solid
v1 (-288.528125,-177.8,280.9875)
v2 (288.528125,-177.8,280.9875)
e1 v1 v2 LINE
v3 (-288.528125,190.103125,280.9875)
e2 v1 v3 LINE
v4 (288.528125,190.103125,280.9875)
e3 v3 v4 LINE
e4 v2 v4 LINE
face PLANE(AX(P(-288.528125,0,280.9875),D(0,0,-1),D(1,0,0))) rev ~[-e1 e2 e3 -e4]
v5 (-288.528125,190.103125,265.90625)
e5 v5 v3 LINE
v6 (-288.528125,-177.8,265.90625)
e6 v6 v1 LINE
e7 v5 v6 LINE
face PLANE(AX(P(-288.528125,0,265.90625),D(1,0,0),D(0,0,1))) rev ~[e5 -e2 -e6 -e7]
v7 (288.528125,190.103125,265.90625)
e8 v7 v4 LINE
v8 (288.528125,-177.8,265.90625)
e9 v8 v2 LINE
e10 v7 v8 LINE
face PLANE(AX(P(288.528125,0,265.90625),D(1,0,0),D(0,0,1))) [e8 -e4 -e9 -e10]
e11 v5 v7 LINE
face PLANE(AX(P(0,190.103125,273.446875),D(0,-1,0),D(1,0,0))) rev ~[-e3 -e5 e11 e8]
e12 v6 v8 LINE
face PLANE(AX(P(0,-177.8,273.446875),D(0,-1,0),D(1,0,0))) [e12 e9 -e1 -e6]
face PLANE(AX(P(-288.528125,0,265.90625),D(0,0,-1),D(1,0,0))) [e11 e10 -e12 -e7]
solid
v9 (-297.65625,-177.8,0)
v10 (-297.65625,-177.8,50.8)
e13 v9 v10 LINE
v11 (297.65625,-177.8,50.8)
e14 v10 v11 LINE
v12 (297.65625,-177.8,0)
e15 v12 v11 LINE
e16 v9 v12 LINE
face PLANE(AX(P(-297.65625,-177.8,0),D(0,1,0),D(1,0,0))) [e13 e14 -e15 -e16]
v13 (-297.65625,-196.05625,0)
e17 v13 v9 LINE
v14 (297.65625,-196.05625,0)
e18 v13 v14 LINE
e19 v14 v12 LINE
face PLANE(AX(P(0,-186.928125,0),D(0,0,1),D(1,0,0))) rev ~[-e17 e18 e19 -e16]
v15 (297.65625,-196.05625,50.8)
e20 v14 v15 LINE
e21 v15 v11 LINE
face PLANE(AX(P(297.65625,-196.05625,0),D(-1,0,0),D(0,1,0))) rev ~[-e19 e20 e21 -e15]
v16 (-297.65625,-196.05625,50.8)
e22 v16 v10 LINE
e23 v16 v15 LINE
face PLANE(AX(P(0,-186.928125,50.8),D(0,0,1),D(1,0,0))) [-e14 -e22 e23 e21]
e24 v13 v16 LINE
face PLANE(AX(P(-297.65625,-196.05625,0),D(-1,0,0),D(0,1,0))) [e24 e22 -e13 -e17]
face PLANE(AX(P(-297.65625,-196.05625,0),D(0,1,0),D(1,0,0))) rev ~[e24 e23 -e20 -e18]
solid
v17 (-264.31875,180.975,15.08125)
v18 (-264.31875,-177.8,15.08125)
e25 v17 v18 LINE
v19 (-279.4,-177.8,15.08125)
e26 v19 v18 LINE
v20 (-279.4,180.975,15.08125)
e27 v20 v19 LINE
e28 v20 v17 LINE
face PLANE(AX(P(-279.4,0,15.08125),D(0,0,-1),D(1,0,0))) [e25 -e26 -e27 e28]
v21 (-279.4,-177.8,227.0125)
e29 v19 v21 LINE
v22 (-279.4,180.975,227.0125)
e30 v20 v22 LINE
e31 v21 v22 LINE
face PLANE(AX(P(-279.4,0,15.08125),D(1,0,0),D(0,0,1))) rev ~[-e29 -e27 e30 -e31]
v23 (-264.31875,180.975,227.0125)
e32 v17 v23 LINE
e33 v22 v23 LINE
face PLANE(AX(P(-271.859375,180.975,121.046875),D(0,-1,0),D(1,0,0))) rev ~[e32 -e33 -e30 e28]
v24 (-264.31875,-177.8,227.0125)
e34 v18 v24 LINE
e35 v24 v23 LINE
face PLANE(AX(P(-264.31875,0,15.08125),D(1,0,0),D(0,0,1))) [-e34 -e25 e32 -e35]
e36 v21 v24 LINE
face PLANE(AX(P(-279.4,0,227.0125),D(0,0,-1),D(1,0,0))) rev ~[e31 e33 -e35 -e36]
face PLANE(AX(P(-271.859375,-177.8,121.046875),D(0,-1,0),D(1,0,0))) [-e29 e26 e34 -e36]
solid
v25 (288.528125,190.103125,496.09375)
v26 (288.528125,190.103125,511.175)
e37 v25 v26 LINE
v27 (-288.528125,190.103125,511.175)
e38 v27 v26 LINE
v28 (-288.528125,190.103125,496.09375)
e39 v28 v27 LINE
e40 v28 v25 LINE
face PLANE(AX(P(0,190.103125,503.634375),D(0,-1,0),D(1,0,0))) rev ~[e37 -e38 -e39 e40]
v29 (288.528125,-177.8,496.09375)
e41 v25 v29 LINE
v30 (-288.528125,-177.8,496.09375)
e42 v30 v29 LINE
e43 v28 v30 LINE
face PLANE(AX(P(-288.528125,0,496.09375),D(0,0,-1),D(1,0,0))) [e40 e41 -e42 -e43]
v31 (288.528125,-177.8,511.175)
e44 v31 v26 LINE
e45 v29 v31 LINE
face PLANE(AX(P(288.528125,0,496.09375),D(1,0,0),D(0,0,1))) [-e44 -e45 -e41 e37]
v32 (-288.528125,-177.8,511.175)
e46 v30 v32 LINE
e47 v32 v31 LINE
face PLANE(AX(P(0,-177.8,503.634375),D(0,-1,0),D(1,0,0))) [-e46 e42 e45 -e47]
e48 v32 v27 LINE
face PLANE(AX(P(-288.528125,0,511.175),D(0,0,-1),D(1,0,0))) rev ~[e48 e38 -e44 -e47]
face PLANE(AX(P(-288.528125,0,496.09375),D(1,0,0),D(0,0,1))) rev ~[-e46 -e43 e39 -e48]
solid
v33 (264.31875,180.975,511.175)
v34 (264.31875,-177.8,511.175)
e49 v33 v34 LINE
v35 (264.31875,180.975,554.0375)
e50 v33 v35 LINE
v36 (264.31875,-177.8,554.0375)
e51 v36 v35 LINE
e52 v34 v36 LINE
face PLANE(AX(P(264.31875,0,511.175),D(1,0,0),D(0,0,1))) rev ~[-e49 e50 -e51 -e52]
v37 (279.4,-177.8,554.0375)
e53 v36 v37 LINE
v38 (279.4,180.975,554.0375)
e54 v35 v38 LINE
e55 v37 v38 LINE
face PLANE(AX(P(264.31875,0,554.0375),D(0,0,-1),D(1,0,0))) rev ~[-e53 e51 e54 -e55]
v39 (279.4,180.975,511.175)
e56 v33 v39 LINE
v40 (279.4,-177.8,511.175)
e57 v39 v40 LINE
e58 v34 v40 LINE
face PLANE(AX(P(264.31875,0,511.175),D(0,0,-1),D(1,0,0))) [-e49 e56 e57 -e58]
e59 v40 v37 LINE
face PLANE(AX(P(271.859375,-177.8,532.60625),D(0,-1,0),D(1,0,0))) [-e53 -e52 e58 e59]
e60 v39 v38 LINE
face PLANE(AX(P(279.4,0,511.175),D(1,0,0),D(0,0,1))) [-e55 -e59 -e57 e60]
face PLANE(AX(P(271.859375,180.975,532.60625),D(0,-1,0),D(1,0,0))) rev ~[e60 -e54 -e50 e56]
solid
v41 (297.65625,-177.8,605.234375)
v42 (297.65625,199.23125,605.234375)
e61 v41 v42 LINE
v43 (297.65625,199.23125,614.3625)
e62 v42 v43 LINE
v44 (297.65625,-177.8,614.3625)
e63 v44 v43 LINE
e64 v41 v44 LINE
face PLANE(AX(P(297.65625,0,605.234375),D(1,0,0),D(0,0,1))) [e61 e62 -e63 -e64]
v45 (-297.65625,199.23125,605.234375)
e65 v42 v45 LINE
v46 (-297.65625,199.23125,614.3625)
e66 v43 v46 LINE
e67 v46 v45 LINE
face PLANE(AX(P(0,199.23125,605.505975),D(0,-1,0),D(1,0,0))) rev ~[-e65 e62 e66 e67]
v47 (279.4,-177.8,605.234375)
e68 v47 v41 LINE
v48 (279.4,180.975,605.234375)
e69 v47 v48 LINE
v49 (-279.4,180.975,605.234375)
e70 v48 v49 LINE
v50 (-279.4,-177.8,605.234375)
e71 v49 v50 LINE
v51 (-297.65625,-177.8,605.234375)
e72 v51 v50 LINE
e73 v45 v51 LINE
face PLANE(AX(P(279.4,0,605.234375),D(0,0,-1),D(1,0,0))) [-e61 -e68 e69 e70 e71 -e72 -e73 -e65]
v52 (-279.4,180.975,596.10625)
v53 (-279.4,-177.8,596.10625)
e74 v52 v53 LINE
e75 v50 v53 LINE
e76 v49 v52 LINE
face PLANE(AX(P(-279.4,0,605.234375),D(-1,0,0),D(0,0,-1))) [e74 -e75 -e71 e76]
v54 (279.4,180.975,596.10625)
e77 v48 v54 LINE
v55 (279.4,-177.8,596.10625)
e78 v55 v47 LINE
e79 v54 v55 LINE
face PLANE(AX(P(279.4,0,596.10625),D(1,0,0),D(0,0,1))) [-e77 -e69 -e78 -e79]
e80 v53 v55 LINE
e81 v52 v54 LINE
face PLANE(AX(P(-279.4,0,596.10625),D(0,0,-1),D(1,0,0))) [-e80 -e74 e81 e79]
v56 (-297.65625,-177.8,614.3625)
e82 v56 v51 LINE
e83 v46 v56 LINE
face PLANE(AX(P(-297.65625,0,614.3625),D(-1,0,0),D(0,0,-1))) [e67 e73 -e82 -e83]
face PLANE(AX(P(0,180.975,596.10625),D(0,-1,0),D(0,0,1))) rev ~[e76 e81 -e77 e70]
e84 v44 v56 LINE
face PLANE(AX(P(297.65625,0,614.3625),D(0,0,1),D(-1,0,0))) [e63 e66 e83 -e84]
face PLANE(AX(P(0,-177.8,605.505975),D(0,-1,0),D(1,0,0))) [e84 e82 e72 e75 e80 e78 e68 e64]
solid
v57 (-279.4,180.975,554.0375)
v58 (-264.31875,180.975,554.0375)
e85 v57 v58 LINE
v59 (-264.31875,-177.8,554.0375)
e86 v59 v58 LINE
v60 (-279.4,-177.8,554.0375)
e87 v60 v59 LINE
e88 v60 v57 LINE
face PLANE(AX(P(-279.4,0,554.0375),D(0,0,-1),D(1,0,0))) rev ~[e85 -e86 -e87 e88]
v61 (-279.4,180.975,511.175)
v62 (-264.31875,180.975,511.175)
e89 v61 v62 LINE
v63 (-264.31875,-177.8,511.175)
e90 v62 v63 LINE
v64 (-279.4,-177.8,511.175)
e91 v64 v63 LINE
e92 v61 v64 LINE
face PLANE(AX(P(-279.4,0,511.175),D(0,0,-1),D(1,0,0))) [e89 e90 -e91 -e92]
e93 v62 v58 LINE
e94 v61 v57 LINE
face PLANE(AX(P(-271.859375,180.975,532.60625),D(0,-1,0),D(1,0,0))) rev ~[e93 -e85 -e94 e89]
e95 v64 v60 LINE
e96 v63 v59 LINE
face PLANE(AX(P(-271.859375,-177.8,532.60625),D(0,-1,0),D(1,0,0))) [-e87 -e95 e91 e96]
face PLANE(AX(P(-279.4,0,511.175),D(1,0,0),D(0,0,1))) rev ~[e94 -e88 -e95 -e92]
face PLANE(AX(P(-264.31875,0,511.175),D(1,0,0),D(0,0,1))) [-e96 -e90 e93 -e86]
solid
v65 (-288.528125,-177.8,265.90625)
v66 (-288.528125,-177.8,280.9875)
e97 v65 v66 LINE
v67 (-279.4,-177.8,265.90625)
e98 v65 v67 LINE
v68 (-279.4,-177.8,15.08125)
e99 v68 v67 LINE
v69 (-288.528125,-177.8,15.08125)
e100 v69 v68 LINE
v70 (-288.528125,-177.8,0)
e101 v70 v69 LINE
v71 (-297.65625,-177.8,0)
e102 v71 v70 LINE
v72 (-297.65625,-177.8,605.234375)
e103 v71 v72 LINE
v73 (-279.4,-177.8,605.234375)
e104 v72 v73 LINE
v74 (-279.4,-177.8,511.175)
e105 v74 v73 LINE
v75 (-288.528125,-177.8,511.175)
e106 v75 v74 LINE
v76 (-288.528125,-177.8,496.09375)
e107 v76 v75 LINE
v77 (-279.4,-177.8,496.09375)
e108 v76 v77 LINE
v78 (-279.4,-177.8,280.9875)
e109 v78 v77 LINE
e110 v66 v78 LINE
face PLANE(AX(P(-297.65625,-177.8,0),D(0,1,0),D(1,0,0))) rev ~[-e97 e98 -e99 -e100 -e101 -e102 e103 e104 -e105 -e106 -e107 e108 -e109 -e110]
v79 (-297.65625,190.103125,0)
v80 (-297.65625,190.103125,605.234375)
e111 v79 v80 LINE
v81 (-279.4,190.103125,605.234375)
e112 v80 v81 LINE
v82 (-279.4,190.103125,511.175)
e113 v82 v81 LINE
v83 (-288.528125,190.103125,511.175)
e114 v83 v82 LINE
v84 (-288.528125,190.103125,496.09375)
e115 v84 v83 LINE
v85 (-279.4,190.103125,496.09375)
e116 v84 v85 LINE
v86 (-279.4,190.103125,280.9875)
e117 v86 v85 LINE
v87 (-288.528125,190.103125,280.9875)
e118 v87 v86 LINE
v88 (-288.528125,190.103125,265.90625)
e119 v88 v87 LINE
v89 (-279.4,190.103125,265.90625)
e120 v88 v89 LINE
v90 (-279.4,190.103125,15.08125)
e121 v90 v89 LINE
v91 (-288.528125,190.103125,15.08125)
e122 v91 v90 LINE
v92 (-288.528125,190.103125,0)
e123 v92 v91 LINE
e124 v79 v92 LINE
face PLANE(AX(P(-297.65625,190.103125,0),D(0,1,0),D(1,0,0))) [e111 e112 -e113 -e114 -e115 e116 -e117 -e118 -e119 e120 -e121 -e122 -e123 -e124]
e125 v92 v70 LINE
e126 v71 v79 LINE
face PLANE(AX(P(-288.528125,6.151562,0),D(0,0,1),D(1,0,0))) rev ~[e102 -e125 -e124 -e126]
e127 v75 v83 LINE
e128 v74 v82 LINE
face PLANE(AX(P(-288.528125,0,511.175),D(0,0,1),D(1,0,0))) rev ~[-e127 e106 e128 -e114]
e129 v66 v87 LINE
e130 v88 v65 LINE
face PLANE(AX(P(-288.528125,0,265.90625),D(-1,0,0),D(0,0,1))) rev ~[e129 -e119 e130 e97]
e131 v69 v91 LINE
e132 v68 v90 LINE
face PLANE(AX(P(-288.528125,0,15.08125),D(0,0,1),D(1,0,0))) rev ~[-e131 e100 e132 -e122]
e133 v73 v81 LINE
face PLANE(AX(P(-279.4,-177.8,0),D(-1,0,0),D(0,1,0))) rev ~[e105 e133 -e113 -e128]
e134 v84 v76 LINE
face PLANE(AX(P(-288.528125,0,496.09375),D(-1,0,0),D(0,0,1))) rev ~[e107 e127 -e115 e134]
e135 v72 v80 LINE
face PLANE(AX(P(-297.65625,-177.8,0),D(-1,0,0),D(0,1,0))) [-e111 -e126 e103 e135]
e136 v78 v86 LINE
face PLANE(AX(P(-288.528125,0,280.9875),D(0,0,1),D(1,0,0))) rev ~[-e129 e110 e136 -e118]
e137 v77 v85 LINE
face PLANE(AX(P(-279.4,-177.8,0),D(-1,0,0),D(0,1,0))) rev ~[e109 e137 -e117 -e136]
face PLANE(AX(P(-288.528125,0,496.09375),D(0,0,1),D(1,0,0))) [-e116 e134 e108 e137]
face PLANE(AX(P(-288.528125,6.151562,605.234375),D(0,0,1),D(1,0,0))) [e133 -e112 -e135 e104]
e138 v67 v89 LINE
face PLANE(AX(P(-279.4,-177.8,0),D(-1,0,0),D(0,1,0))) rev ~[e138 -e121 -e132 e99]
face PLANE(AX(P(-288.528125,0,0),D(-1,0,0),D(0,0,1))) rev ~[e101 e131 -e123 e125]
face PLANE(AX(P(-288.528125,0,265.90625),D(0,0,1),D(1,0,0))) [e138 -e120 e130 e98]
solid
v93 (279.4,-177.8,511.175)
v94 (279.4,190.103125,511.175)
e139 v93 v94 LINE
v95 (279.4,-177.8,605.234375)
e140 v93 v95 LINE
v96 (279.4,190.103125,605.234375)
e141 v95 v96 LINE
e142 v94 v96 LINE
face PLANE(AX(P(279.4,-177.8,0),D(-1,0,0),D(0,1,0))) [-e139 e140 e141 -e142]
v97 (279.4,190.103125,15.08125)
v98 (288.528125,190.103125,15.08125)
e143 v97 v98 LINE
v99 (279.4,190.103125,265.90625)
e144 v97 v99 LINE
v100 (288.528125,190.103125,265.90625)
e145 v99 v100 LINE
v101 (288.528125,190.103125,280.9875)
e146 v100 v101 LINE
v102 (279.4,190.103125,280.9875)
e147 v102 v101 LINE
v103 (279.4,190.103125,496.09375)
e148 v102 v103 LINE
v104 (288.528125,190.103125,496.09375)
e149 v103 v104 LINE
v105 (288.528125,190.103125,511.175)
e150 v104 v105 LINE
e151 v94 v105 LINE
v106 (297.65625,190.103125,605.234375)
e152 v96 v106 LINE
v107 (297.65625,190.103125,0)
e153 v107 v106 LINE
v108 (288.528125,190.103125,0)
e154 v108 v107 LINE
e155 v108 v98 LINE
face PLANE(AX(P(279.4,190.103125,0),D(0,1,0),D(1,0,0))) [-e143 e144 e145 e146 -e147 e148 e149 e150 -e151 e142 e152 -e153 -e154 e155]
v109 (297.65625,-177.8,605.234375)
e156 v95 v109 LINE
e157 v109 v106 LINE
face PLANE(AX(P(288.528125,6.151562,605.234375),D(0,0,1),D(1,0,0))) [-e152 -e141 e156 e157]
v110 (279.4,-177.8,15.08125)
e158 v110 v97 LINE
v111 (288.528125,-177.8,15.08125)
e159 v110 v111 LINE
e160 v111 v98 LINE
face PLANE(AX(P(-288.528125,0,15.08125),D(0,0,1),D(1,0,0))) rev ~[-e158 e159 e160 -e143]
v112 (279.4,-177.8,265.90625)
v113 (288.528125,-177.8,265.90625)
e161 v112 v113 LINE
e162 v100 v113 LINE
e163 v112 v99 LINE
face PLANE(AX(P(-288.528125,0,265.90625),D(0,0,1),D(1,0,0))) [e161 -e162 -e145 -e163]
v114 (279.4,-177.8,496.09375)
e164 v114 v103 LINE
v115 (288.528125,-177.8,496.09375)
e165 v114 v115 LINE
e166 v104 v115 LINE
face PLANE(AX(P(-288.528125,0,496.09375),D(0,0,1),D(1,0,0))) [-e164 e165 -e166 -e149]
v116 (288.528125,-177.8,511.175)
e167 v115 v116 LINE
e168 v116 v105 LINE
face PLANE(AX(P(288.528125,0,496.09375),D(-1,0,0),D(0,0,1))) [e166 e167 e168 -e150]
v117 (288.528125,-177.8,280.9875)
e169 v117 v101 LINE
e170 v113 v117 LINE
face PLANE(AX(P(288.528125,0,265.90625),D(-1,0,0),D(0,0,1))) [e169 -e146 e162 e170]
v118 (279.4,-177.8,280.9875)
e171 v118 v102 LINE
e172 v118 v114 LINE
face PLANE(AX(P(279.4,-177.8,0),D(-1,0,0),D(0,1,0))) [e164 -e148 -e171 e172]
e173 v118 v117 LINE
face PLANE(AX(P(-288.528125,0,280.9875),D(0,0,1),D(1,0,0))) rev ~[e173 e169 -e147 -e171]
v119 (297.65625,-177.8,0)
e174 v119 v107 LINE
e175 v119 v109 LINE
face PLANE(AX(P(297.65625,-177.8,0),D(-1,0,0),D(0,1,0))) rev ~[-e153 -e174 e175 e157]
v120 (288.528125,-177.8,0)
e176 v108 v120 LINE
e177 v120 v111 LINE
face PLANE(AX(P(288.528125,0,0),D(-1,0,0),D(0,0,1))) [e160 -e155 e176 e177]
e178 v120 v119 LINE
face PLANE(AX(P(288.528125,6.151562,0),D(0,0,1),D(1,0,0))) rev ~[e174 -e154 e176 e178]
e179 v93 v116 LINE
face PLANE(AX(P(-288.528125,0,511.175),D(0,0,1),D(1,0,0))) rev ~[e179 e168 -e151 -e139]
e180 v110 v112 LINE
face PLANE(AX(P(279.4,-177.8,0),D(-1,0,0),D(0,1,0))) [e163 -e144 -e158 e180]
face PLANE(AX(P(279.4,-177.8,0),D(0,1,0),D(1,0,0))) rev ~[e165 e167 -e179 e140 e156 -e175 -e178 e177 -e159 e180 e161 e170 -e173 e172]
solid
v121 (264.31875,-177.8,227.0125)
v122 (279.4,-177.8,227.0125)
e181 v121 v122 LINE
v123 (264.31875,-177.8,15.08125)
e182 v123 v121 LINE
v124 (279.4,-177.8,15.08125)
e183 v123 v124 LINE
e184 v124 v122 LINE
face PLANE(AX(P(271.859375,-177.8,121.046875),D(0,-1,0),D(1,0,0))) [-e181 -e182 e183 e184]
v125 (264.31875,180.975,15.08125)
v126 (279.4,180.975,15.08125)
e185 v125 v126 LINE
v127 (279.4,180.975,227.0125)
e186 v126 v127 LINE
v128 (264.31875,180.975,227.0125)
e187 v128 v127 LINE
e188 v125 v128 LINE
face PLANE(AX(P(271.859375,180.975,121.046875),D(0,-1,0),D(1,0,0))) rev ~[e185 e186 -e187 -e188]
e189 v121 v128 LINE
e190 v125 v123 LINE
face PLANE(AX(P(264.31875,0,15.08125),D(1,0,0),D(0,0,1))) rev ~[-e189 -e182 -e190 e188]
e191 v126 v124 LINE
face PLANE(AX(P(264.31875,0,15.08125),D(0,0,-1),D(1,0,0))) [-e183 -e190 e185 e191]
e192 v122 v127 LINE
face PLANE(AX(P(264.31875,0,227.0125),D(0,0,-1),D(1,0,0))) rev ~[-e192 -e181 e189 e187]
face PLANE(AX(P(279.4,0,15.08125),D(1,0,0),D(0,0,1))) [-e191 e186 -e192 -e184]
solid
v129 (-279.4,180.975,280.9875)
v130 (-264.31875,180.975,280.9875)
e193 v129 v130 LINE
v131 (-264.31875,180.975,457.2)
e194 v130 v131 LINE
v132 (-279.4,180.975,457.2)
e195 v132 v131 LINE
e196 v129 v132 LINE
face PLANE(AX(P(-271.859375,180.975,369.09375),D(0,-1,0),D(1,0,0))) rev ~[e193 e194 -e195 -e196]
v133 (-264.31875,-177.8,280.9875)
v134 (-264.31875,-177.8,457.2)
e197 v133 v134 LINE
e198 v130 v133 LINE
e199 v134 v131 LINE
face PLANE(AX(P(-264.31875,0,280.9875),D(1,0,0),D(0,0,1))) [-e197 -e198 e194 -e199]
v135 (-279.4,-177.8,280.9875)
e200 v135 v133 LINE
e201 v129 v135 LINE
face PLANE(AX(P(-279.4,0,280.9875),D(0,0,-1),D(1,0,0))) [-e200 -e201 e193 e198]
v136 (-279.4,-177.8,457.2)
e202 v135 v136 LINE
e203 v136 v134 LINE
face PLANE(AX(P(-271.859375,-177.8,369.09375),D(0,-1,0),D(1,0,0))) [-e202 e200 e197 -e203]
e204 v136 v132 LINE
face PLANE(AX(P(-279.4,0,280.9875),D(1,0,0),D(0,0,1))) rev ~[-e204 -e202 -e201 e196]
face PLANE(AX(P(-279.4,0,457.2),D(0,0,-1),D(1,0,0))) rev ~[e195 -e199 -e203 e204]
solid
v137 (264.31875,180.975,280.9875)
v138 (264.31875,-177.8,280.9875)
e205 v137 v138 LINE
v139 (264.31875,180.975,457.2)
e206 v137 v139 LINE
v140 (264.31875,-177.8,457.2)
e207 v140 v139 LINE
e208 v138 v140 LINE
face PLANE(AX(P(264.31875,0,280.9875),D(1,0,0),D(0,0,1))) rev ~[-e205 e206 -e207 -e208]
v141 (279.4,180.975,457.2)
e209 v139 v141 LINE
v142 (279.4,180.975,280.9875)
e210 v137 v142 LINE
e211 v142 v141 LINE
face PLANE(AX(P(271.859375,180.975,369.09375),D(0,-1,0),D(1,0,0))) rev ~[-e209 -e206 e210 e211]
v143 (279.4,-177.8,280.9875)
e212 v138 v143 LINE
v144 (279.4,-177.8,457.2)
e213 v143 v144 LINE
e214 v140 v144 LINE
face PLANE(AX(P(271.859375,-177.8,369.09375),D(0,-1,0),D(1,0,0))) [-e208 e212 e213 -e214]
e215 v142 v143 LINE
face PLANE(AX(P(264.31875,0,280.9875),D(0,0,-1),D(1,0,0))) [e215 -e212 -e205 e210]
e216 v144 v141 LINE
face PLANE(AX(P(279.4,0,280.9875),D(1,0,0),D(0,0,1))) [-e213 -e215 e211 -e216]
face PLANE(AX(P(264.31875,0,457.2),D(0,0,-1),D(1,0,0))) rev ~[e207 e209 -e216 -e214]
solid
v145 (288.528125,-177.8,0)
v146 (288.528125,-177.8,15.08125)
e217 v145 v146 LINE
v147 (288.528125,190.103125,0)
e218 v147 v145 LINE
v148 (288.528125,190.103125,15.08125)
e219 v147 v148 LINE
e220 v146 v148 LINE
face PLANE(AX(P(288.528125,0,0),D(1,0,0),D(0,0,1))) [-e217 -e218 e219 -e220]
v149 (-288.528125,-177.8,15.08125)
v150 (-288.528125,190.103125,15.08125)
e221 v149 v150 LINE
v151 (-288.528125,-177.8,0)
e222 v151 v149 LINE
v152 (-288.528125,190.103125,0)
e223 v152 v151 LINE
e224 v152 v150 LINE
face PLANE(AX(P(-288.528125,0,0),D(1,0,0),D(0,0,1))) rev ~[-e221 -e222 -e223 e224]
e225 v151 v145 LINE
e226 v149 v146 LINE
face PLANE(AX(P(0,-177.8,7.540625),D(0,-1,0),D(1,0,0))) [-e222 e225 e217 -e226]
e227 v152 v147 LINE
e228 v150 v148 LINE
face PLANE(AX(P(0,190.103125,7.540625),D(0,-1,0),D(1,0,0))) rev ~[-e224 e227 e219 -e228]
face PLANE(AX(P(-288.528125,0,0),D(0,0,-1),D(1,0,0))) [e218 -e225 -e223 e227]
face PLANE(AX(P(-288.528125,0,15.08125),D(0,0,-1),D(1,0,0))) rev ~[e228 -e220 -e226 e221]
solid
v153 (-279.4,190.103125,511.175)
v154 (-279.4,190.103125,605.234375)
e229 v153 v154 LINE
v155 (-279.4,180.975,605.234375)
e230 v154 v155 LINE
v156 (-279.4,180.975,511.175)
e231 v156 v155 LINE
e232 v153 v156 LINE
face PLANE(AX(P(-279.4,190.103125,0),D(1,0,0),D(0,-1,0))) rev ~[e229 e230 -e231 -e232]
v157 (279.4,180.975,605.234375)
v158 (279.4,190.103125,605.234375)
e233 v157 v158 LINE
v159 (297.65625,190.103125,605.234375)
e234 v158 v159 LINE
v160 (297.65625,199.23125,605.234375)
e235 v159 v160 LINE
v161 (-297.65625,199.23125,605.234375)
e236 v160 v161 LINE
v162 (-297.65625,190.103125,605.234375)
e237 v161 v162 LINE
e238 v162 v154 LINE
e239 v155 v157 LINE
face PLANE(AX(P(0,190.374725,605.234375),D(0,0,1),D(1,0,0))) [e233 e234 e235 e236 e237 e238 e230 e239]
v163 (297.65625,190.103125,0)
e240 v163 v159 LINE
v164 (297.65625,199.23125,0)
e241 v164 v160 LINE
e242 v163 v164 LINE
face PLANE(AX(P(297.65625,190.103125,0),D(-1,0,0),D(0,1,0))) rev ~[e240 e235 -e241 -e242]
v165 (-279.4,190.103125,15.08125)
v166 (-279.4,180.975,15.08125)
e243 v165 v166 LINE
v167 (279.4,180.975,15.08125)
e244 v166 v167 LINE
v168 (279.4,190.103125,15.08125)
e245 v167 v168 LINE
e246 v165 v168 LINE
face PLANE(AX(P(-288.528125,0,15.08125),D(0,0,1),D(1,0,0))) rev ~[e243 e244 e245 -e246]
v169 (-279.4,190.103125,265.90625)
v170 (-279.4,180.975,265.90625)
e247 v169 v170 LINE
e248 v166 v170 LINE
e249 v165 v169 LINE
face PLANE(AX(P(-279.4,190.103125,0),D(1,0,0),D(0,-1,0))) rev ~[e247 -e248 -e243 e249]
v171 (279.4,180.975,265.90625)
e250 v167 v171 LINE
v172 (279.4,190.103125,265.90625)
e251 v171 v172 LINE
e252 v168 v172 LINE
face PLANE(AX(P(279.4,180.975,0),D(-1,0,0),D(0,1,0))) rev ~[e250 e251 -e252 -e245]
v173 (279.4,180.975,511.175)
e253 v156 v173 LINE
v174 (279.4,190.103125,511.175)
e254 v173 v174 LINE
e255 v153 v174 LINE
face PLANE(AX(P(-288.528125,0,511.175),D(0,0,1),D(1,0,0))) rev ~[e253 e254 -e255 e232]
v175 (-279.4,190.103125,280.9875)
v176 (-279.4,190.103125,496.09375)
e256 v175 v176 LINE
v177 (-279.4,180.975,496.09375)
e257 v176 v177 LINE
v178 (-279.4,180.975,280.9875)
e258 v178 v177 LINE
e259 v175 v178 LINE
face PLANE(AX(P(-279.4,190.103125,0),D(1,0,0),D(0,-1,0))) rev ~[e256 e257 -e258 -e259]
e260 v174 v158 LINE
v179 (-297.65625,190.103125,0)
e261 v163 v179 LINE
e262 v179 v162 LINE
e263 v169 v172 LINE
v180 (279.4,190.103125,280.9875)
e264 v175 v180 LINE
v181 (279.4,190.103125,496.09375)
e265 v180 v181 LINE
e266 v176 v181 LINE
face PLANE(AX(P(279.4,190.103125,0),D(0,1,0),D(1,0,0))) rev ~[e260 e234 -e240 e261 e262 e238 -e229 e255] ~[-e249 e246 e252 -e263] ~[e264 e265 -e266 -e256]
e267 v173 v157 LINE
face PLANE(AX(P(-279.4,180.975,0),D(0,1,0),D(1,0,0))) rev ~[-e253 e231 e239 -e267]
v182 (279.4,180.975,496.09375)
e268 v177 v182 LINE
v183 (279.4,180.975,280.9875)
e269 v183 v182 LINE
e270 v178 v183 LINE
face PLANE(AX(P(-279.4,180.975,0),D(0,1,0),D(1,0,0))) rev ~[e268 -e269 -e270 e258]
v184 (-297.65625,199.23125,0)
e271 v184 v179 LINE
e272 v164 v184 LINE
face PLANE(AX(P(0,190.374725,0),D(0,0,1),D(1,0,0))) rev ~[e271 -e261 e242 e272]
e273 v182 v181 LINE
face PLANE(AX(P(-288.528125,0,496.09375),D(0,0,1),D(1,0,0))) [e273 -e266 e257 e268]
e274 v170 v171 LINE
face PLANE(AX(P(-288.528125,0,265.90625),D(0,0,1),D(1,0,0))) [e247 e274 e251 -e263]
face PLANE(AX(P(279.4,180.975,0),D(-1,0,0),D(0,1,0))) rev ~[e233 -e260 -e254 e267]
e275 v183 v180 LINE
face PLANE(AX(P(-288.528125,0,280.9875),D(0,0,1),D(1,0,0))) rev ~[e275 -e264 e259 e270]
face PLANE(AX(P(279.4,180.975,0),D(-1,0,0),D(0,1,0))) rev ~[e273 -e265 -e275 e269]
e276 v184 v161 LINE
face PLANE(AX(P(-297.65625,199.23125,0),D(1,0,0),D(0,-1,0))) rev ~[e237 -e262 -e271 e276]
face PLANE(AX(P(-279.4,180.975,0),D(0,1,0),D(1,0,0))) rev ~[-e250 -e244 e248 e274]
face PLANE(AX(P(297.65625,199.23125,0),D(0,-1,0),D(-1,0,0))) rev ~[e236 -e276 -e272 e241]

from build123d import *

# Parameters (mm, degrees)
F1_W           = 18.25625
F1_H           = 367.903125
F6_DEPTH       = 605.234375
F0_W           = 595.3125
F0_H           = 18.25625
F7_DEPTH       = 50.8
F2_W           = 577.05625
F2_H           = 15.08125
F8_DEPTH       = 190.103125
F8_DEPTH_BACK  = 177.8
F9_DEPTH       = 177.8
F9_DEPTH_BACK  = 190.103125
F10_DEPTH      = 177.8
F10_DEPTH_BACK = 199.23125
F5_W           = 18.25625
F5_H           = 9.128125
F11_DEPTH      = 297.65625
F11_DEPTH_BACK = 297.65625
F4_W           = 15.08125
F4_H           = 211.93125
F12_DEPTH      = 177.8
F12_DEPTH_BACK = 180.975
F4_H_2         = 176.2125
F4_H_3         = 42.8625


with BuildPart() as f6:
    # F1 (on Top) → F6 (new body)
    with BuildSketch(Plane.XY):
        with Locations((-288.528125, 6.1515625)):
            Rectangle(F1_W, F1_H)
    extrude(amount=F6_DEPTH)


with BuildPart() as f6b:
    # F1 (on Top) → F6, piece 2 (new body)
    with BuildSketch(Plane.XY):
        with Locations((288.528125, 6.1515625)):
            Rectangle(F1_W, F1_H)
    extrude(amount=F6_DEPTH)


with BuildPart() as f6c:
    # F0 (on Top) → F6, piece 3 (new body)
    with BuildSketch(Plane.XY):
        Polygon((297.65625, 199.23125), (-297.65625, 199.23125), (-297.65625, 190.103125), (-279.4, 190.103125), (-279.4, 180.975), (279.4, 180.975), (279.4, 190.103125), (297.65625, 190.103125), align=None)
    extrude(amount=F6_DEPTH)


with BuildPart() as f7:
    # F0 (on Top) → F7 (new body)
    with BuildSketch(Plane.XY):
        with Locations((0, -186.928125)):
            Rectangle(F0_W, F0_H)
    extrude(amount=F7_DEPTH)


with BuildPart() as f8_tool:
    # F2 (on Front) → F8 (new body, two sides)
    with BuildSketch(Plane.XZ) as f8_sk:
        with Locations((0, 7.540625)):
            Rectangle(F2_W, F2_H)
        with Locations((0, 273.446875)):
            Rectangle(F2_W, F2_H)
        with Locations((0, 503.634375)):
            Rectangle(F2_W, F2_H)
    extrude(amount=-F8_DEPTH)
    extrude(f8_sk.sketch, amount=F8_DEPTH_BACK)


with BuildPart() as f6_1:
    add(f6.part)

    # F8: cut by f8_tool
    add(f8_tool.part, mode=Mode.SUBTRACT)


with BuildPart() as f6b_1:
    add(f6b.part)

    # F8: cut by f8_tool
    add(f8_tool.part, mode=Mode.SUBTRACT)


with BuildPart() as f6c_1:
    add(f6c.part)

    # F8: cut by f8_tool
    add(f8_tool.part, mode=Mode.SUBTRACT)


with BuildPart() as f9:
    # F2 (on Front) → F9 (new body, two sides)
    with BuildSketch(Plane.XZ) as f9_sk:
        with Locations((0, 7.540625)):
            Rectangle(F2_W, F2_H)
    extrude(amount=F9_DEPTH)
    extrude(f9_sk.sketch, amount=-F9_DEPTH_BACK)


with BuildPart() as f9b:
    # F2 (on Front) → F9, piece 2 (new body, two sides)
    with BuildSketch(Plane.XZ) as f9_2_sk:
        with Locations((0, 273.446875)):
            Rectangle(F2_W, F2_H)
    extrude(amount=F9_DEPTH)
    extrude(f9_2_sk.sketch, amount=-F9_DEPTH_BACK)


with BuildPart() as f9c:
    # F2 (on Front) → F9, piece 3 (new body, two sides)
    with BuildSketch(Plane.XZ) as f9_3_sk:
        with Locations((0, 503.634375)):
            Rectangle(F2_W, F2_H)
    extrude(amount=F9_DEPTH)
    extrude(f9_3_sk.sketch, amount=-F9_DEPTH_BACK)


with BuildPart() as f10:
    # F3 (on Front) → F10 (new body, two sides)
    with BuildSketch(Plane.XZ) as f10_sk:
        Polygon((297.65625, 614.3625), (-297.65625, 614.3625), (-297.65625, 605.234375), (-279.4, 605.234375), (-279.4, 596.10625), (279.4, 596.10625), (279.4, 605.234375), (297.65625, 605.234375), align=None)
    extrude(amount=F10_DEPTH)
    extrude(f10_sk.sketch, amount=-F10_DEPTH_BACK)

    # F5 (on Right) → F11 (cut, two sides)
    with BuildSketch(Plane.YZ) as f11_sk:
        with Locations((190.103125, 600.6703125)):
            Rectangle(F5_W, F5_H)
    extrude(amount=-F11_DEPTH, mode=Mode.SUBTRACT)
    extrude(f11_sk.sketch, amount=F11_DEPTH_BACK, mode=Mode.SUBTRACT)


with BuildPart() as f12:
    # F4 (on Front) → F12 (new body, two sides)
    with BuildSketch(Plane.XZ) as f12_sk:
        with Locations((-271.859375, 121.046875)):
            Rectangle(F4_W, F4_H)
    extrude(amount=F12_DEPTH)
    extrude(f12_sk.sketch, amount=-F12_DEPTH_BACK)


with BuildPart() as f12b:
    # F4 (on Front) → F12, piece 2 (new body, two sides)
    with BuildSketch(Plane.XZ) as f12_2_sk:
        with Locations((-271.859375, 369.09375)):
            Rectangle(F4_W, F4_H_2)
    extrude(amount=F12_DEPTH)
    extrude(f12_2_sk.sketch, amount=-F12_DEPTH_BACK)


with BuildPart() as f12c:
    # F4 (on Front) → F12, piece 3 (new body, two sides)
    with BuildSketch(Plane.XZ) as f12_3_sk:
        with Locations((-271.859375, 532.60625)):
            Rectangle(F4_W, F4_H_3)
    extrude(amount=F12_DEPTH)
    extrude(f12_3_sk.sketch, amount=-F12_DEPTH_BACK)


with BuildPart() as f12d:
    # F4 (on Front) → F12, piece 4 (new body, two sides)
    with BuildSketch(Plane.XZ) as f12_4_sk:
        with Locations((271.859375, 369.09375)):
            Rectangle(F4_W, F4_H_2)
    extrude(amount=F12_DEPTH)
    extrude(f12_4_sk.sketch, amount=-F12_DEPTH_BACK)


with BuildPart() as f12e:
    # F4 (on Front) → F12, piece 5 (new body, two sides)
    with BuildSketch(Plane.XZ) as f12_5_sk:
        with Locations((271.859375, 121.046875)):
            Rectangle(F4_W, F4_H)
    extrude(amount=F12_DEPTH)
    extrude(f12_5_sk.sketch, amount=-F12_DEPTH_BACK)


with BuildPart() as f12f:
    # F4 (on Front) → F12, piece 6 (new body, two sides)
    with BuildSketch(Plane.XZ) as f12_6_sk:
        with Locations((271.859375, 532.60625)):
            Rectangle(F4_W, F4_H_3)
    extrude(amount=F12_DEPTH)
    extrude(f12_6_sk.sketch, amount=-F12_DEPTH_BACK)


solid = Compound([f7.part, f6_1.part, f6b_1.part, f6c_1.part, f9.part, f9b.part, f9c.part, f10.part, f12.part, f12b.part, f12c.part, f12d.part, f12e.part, f12f.part])
